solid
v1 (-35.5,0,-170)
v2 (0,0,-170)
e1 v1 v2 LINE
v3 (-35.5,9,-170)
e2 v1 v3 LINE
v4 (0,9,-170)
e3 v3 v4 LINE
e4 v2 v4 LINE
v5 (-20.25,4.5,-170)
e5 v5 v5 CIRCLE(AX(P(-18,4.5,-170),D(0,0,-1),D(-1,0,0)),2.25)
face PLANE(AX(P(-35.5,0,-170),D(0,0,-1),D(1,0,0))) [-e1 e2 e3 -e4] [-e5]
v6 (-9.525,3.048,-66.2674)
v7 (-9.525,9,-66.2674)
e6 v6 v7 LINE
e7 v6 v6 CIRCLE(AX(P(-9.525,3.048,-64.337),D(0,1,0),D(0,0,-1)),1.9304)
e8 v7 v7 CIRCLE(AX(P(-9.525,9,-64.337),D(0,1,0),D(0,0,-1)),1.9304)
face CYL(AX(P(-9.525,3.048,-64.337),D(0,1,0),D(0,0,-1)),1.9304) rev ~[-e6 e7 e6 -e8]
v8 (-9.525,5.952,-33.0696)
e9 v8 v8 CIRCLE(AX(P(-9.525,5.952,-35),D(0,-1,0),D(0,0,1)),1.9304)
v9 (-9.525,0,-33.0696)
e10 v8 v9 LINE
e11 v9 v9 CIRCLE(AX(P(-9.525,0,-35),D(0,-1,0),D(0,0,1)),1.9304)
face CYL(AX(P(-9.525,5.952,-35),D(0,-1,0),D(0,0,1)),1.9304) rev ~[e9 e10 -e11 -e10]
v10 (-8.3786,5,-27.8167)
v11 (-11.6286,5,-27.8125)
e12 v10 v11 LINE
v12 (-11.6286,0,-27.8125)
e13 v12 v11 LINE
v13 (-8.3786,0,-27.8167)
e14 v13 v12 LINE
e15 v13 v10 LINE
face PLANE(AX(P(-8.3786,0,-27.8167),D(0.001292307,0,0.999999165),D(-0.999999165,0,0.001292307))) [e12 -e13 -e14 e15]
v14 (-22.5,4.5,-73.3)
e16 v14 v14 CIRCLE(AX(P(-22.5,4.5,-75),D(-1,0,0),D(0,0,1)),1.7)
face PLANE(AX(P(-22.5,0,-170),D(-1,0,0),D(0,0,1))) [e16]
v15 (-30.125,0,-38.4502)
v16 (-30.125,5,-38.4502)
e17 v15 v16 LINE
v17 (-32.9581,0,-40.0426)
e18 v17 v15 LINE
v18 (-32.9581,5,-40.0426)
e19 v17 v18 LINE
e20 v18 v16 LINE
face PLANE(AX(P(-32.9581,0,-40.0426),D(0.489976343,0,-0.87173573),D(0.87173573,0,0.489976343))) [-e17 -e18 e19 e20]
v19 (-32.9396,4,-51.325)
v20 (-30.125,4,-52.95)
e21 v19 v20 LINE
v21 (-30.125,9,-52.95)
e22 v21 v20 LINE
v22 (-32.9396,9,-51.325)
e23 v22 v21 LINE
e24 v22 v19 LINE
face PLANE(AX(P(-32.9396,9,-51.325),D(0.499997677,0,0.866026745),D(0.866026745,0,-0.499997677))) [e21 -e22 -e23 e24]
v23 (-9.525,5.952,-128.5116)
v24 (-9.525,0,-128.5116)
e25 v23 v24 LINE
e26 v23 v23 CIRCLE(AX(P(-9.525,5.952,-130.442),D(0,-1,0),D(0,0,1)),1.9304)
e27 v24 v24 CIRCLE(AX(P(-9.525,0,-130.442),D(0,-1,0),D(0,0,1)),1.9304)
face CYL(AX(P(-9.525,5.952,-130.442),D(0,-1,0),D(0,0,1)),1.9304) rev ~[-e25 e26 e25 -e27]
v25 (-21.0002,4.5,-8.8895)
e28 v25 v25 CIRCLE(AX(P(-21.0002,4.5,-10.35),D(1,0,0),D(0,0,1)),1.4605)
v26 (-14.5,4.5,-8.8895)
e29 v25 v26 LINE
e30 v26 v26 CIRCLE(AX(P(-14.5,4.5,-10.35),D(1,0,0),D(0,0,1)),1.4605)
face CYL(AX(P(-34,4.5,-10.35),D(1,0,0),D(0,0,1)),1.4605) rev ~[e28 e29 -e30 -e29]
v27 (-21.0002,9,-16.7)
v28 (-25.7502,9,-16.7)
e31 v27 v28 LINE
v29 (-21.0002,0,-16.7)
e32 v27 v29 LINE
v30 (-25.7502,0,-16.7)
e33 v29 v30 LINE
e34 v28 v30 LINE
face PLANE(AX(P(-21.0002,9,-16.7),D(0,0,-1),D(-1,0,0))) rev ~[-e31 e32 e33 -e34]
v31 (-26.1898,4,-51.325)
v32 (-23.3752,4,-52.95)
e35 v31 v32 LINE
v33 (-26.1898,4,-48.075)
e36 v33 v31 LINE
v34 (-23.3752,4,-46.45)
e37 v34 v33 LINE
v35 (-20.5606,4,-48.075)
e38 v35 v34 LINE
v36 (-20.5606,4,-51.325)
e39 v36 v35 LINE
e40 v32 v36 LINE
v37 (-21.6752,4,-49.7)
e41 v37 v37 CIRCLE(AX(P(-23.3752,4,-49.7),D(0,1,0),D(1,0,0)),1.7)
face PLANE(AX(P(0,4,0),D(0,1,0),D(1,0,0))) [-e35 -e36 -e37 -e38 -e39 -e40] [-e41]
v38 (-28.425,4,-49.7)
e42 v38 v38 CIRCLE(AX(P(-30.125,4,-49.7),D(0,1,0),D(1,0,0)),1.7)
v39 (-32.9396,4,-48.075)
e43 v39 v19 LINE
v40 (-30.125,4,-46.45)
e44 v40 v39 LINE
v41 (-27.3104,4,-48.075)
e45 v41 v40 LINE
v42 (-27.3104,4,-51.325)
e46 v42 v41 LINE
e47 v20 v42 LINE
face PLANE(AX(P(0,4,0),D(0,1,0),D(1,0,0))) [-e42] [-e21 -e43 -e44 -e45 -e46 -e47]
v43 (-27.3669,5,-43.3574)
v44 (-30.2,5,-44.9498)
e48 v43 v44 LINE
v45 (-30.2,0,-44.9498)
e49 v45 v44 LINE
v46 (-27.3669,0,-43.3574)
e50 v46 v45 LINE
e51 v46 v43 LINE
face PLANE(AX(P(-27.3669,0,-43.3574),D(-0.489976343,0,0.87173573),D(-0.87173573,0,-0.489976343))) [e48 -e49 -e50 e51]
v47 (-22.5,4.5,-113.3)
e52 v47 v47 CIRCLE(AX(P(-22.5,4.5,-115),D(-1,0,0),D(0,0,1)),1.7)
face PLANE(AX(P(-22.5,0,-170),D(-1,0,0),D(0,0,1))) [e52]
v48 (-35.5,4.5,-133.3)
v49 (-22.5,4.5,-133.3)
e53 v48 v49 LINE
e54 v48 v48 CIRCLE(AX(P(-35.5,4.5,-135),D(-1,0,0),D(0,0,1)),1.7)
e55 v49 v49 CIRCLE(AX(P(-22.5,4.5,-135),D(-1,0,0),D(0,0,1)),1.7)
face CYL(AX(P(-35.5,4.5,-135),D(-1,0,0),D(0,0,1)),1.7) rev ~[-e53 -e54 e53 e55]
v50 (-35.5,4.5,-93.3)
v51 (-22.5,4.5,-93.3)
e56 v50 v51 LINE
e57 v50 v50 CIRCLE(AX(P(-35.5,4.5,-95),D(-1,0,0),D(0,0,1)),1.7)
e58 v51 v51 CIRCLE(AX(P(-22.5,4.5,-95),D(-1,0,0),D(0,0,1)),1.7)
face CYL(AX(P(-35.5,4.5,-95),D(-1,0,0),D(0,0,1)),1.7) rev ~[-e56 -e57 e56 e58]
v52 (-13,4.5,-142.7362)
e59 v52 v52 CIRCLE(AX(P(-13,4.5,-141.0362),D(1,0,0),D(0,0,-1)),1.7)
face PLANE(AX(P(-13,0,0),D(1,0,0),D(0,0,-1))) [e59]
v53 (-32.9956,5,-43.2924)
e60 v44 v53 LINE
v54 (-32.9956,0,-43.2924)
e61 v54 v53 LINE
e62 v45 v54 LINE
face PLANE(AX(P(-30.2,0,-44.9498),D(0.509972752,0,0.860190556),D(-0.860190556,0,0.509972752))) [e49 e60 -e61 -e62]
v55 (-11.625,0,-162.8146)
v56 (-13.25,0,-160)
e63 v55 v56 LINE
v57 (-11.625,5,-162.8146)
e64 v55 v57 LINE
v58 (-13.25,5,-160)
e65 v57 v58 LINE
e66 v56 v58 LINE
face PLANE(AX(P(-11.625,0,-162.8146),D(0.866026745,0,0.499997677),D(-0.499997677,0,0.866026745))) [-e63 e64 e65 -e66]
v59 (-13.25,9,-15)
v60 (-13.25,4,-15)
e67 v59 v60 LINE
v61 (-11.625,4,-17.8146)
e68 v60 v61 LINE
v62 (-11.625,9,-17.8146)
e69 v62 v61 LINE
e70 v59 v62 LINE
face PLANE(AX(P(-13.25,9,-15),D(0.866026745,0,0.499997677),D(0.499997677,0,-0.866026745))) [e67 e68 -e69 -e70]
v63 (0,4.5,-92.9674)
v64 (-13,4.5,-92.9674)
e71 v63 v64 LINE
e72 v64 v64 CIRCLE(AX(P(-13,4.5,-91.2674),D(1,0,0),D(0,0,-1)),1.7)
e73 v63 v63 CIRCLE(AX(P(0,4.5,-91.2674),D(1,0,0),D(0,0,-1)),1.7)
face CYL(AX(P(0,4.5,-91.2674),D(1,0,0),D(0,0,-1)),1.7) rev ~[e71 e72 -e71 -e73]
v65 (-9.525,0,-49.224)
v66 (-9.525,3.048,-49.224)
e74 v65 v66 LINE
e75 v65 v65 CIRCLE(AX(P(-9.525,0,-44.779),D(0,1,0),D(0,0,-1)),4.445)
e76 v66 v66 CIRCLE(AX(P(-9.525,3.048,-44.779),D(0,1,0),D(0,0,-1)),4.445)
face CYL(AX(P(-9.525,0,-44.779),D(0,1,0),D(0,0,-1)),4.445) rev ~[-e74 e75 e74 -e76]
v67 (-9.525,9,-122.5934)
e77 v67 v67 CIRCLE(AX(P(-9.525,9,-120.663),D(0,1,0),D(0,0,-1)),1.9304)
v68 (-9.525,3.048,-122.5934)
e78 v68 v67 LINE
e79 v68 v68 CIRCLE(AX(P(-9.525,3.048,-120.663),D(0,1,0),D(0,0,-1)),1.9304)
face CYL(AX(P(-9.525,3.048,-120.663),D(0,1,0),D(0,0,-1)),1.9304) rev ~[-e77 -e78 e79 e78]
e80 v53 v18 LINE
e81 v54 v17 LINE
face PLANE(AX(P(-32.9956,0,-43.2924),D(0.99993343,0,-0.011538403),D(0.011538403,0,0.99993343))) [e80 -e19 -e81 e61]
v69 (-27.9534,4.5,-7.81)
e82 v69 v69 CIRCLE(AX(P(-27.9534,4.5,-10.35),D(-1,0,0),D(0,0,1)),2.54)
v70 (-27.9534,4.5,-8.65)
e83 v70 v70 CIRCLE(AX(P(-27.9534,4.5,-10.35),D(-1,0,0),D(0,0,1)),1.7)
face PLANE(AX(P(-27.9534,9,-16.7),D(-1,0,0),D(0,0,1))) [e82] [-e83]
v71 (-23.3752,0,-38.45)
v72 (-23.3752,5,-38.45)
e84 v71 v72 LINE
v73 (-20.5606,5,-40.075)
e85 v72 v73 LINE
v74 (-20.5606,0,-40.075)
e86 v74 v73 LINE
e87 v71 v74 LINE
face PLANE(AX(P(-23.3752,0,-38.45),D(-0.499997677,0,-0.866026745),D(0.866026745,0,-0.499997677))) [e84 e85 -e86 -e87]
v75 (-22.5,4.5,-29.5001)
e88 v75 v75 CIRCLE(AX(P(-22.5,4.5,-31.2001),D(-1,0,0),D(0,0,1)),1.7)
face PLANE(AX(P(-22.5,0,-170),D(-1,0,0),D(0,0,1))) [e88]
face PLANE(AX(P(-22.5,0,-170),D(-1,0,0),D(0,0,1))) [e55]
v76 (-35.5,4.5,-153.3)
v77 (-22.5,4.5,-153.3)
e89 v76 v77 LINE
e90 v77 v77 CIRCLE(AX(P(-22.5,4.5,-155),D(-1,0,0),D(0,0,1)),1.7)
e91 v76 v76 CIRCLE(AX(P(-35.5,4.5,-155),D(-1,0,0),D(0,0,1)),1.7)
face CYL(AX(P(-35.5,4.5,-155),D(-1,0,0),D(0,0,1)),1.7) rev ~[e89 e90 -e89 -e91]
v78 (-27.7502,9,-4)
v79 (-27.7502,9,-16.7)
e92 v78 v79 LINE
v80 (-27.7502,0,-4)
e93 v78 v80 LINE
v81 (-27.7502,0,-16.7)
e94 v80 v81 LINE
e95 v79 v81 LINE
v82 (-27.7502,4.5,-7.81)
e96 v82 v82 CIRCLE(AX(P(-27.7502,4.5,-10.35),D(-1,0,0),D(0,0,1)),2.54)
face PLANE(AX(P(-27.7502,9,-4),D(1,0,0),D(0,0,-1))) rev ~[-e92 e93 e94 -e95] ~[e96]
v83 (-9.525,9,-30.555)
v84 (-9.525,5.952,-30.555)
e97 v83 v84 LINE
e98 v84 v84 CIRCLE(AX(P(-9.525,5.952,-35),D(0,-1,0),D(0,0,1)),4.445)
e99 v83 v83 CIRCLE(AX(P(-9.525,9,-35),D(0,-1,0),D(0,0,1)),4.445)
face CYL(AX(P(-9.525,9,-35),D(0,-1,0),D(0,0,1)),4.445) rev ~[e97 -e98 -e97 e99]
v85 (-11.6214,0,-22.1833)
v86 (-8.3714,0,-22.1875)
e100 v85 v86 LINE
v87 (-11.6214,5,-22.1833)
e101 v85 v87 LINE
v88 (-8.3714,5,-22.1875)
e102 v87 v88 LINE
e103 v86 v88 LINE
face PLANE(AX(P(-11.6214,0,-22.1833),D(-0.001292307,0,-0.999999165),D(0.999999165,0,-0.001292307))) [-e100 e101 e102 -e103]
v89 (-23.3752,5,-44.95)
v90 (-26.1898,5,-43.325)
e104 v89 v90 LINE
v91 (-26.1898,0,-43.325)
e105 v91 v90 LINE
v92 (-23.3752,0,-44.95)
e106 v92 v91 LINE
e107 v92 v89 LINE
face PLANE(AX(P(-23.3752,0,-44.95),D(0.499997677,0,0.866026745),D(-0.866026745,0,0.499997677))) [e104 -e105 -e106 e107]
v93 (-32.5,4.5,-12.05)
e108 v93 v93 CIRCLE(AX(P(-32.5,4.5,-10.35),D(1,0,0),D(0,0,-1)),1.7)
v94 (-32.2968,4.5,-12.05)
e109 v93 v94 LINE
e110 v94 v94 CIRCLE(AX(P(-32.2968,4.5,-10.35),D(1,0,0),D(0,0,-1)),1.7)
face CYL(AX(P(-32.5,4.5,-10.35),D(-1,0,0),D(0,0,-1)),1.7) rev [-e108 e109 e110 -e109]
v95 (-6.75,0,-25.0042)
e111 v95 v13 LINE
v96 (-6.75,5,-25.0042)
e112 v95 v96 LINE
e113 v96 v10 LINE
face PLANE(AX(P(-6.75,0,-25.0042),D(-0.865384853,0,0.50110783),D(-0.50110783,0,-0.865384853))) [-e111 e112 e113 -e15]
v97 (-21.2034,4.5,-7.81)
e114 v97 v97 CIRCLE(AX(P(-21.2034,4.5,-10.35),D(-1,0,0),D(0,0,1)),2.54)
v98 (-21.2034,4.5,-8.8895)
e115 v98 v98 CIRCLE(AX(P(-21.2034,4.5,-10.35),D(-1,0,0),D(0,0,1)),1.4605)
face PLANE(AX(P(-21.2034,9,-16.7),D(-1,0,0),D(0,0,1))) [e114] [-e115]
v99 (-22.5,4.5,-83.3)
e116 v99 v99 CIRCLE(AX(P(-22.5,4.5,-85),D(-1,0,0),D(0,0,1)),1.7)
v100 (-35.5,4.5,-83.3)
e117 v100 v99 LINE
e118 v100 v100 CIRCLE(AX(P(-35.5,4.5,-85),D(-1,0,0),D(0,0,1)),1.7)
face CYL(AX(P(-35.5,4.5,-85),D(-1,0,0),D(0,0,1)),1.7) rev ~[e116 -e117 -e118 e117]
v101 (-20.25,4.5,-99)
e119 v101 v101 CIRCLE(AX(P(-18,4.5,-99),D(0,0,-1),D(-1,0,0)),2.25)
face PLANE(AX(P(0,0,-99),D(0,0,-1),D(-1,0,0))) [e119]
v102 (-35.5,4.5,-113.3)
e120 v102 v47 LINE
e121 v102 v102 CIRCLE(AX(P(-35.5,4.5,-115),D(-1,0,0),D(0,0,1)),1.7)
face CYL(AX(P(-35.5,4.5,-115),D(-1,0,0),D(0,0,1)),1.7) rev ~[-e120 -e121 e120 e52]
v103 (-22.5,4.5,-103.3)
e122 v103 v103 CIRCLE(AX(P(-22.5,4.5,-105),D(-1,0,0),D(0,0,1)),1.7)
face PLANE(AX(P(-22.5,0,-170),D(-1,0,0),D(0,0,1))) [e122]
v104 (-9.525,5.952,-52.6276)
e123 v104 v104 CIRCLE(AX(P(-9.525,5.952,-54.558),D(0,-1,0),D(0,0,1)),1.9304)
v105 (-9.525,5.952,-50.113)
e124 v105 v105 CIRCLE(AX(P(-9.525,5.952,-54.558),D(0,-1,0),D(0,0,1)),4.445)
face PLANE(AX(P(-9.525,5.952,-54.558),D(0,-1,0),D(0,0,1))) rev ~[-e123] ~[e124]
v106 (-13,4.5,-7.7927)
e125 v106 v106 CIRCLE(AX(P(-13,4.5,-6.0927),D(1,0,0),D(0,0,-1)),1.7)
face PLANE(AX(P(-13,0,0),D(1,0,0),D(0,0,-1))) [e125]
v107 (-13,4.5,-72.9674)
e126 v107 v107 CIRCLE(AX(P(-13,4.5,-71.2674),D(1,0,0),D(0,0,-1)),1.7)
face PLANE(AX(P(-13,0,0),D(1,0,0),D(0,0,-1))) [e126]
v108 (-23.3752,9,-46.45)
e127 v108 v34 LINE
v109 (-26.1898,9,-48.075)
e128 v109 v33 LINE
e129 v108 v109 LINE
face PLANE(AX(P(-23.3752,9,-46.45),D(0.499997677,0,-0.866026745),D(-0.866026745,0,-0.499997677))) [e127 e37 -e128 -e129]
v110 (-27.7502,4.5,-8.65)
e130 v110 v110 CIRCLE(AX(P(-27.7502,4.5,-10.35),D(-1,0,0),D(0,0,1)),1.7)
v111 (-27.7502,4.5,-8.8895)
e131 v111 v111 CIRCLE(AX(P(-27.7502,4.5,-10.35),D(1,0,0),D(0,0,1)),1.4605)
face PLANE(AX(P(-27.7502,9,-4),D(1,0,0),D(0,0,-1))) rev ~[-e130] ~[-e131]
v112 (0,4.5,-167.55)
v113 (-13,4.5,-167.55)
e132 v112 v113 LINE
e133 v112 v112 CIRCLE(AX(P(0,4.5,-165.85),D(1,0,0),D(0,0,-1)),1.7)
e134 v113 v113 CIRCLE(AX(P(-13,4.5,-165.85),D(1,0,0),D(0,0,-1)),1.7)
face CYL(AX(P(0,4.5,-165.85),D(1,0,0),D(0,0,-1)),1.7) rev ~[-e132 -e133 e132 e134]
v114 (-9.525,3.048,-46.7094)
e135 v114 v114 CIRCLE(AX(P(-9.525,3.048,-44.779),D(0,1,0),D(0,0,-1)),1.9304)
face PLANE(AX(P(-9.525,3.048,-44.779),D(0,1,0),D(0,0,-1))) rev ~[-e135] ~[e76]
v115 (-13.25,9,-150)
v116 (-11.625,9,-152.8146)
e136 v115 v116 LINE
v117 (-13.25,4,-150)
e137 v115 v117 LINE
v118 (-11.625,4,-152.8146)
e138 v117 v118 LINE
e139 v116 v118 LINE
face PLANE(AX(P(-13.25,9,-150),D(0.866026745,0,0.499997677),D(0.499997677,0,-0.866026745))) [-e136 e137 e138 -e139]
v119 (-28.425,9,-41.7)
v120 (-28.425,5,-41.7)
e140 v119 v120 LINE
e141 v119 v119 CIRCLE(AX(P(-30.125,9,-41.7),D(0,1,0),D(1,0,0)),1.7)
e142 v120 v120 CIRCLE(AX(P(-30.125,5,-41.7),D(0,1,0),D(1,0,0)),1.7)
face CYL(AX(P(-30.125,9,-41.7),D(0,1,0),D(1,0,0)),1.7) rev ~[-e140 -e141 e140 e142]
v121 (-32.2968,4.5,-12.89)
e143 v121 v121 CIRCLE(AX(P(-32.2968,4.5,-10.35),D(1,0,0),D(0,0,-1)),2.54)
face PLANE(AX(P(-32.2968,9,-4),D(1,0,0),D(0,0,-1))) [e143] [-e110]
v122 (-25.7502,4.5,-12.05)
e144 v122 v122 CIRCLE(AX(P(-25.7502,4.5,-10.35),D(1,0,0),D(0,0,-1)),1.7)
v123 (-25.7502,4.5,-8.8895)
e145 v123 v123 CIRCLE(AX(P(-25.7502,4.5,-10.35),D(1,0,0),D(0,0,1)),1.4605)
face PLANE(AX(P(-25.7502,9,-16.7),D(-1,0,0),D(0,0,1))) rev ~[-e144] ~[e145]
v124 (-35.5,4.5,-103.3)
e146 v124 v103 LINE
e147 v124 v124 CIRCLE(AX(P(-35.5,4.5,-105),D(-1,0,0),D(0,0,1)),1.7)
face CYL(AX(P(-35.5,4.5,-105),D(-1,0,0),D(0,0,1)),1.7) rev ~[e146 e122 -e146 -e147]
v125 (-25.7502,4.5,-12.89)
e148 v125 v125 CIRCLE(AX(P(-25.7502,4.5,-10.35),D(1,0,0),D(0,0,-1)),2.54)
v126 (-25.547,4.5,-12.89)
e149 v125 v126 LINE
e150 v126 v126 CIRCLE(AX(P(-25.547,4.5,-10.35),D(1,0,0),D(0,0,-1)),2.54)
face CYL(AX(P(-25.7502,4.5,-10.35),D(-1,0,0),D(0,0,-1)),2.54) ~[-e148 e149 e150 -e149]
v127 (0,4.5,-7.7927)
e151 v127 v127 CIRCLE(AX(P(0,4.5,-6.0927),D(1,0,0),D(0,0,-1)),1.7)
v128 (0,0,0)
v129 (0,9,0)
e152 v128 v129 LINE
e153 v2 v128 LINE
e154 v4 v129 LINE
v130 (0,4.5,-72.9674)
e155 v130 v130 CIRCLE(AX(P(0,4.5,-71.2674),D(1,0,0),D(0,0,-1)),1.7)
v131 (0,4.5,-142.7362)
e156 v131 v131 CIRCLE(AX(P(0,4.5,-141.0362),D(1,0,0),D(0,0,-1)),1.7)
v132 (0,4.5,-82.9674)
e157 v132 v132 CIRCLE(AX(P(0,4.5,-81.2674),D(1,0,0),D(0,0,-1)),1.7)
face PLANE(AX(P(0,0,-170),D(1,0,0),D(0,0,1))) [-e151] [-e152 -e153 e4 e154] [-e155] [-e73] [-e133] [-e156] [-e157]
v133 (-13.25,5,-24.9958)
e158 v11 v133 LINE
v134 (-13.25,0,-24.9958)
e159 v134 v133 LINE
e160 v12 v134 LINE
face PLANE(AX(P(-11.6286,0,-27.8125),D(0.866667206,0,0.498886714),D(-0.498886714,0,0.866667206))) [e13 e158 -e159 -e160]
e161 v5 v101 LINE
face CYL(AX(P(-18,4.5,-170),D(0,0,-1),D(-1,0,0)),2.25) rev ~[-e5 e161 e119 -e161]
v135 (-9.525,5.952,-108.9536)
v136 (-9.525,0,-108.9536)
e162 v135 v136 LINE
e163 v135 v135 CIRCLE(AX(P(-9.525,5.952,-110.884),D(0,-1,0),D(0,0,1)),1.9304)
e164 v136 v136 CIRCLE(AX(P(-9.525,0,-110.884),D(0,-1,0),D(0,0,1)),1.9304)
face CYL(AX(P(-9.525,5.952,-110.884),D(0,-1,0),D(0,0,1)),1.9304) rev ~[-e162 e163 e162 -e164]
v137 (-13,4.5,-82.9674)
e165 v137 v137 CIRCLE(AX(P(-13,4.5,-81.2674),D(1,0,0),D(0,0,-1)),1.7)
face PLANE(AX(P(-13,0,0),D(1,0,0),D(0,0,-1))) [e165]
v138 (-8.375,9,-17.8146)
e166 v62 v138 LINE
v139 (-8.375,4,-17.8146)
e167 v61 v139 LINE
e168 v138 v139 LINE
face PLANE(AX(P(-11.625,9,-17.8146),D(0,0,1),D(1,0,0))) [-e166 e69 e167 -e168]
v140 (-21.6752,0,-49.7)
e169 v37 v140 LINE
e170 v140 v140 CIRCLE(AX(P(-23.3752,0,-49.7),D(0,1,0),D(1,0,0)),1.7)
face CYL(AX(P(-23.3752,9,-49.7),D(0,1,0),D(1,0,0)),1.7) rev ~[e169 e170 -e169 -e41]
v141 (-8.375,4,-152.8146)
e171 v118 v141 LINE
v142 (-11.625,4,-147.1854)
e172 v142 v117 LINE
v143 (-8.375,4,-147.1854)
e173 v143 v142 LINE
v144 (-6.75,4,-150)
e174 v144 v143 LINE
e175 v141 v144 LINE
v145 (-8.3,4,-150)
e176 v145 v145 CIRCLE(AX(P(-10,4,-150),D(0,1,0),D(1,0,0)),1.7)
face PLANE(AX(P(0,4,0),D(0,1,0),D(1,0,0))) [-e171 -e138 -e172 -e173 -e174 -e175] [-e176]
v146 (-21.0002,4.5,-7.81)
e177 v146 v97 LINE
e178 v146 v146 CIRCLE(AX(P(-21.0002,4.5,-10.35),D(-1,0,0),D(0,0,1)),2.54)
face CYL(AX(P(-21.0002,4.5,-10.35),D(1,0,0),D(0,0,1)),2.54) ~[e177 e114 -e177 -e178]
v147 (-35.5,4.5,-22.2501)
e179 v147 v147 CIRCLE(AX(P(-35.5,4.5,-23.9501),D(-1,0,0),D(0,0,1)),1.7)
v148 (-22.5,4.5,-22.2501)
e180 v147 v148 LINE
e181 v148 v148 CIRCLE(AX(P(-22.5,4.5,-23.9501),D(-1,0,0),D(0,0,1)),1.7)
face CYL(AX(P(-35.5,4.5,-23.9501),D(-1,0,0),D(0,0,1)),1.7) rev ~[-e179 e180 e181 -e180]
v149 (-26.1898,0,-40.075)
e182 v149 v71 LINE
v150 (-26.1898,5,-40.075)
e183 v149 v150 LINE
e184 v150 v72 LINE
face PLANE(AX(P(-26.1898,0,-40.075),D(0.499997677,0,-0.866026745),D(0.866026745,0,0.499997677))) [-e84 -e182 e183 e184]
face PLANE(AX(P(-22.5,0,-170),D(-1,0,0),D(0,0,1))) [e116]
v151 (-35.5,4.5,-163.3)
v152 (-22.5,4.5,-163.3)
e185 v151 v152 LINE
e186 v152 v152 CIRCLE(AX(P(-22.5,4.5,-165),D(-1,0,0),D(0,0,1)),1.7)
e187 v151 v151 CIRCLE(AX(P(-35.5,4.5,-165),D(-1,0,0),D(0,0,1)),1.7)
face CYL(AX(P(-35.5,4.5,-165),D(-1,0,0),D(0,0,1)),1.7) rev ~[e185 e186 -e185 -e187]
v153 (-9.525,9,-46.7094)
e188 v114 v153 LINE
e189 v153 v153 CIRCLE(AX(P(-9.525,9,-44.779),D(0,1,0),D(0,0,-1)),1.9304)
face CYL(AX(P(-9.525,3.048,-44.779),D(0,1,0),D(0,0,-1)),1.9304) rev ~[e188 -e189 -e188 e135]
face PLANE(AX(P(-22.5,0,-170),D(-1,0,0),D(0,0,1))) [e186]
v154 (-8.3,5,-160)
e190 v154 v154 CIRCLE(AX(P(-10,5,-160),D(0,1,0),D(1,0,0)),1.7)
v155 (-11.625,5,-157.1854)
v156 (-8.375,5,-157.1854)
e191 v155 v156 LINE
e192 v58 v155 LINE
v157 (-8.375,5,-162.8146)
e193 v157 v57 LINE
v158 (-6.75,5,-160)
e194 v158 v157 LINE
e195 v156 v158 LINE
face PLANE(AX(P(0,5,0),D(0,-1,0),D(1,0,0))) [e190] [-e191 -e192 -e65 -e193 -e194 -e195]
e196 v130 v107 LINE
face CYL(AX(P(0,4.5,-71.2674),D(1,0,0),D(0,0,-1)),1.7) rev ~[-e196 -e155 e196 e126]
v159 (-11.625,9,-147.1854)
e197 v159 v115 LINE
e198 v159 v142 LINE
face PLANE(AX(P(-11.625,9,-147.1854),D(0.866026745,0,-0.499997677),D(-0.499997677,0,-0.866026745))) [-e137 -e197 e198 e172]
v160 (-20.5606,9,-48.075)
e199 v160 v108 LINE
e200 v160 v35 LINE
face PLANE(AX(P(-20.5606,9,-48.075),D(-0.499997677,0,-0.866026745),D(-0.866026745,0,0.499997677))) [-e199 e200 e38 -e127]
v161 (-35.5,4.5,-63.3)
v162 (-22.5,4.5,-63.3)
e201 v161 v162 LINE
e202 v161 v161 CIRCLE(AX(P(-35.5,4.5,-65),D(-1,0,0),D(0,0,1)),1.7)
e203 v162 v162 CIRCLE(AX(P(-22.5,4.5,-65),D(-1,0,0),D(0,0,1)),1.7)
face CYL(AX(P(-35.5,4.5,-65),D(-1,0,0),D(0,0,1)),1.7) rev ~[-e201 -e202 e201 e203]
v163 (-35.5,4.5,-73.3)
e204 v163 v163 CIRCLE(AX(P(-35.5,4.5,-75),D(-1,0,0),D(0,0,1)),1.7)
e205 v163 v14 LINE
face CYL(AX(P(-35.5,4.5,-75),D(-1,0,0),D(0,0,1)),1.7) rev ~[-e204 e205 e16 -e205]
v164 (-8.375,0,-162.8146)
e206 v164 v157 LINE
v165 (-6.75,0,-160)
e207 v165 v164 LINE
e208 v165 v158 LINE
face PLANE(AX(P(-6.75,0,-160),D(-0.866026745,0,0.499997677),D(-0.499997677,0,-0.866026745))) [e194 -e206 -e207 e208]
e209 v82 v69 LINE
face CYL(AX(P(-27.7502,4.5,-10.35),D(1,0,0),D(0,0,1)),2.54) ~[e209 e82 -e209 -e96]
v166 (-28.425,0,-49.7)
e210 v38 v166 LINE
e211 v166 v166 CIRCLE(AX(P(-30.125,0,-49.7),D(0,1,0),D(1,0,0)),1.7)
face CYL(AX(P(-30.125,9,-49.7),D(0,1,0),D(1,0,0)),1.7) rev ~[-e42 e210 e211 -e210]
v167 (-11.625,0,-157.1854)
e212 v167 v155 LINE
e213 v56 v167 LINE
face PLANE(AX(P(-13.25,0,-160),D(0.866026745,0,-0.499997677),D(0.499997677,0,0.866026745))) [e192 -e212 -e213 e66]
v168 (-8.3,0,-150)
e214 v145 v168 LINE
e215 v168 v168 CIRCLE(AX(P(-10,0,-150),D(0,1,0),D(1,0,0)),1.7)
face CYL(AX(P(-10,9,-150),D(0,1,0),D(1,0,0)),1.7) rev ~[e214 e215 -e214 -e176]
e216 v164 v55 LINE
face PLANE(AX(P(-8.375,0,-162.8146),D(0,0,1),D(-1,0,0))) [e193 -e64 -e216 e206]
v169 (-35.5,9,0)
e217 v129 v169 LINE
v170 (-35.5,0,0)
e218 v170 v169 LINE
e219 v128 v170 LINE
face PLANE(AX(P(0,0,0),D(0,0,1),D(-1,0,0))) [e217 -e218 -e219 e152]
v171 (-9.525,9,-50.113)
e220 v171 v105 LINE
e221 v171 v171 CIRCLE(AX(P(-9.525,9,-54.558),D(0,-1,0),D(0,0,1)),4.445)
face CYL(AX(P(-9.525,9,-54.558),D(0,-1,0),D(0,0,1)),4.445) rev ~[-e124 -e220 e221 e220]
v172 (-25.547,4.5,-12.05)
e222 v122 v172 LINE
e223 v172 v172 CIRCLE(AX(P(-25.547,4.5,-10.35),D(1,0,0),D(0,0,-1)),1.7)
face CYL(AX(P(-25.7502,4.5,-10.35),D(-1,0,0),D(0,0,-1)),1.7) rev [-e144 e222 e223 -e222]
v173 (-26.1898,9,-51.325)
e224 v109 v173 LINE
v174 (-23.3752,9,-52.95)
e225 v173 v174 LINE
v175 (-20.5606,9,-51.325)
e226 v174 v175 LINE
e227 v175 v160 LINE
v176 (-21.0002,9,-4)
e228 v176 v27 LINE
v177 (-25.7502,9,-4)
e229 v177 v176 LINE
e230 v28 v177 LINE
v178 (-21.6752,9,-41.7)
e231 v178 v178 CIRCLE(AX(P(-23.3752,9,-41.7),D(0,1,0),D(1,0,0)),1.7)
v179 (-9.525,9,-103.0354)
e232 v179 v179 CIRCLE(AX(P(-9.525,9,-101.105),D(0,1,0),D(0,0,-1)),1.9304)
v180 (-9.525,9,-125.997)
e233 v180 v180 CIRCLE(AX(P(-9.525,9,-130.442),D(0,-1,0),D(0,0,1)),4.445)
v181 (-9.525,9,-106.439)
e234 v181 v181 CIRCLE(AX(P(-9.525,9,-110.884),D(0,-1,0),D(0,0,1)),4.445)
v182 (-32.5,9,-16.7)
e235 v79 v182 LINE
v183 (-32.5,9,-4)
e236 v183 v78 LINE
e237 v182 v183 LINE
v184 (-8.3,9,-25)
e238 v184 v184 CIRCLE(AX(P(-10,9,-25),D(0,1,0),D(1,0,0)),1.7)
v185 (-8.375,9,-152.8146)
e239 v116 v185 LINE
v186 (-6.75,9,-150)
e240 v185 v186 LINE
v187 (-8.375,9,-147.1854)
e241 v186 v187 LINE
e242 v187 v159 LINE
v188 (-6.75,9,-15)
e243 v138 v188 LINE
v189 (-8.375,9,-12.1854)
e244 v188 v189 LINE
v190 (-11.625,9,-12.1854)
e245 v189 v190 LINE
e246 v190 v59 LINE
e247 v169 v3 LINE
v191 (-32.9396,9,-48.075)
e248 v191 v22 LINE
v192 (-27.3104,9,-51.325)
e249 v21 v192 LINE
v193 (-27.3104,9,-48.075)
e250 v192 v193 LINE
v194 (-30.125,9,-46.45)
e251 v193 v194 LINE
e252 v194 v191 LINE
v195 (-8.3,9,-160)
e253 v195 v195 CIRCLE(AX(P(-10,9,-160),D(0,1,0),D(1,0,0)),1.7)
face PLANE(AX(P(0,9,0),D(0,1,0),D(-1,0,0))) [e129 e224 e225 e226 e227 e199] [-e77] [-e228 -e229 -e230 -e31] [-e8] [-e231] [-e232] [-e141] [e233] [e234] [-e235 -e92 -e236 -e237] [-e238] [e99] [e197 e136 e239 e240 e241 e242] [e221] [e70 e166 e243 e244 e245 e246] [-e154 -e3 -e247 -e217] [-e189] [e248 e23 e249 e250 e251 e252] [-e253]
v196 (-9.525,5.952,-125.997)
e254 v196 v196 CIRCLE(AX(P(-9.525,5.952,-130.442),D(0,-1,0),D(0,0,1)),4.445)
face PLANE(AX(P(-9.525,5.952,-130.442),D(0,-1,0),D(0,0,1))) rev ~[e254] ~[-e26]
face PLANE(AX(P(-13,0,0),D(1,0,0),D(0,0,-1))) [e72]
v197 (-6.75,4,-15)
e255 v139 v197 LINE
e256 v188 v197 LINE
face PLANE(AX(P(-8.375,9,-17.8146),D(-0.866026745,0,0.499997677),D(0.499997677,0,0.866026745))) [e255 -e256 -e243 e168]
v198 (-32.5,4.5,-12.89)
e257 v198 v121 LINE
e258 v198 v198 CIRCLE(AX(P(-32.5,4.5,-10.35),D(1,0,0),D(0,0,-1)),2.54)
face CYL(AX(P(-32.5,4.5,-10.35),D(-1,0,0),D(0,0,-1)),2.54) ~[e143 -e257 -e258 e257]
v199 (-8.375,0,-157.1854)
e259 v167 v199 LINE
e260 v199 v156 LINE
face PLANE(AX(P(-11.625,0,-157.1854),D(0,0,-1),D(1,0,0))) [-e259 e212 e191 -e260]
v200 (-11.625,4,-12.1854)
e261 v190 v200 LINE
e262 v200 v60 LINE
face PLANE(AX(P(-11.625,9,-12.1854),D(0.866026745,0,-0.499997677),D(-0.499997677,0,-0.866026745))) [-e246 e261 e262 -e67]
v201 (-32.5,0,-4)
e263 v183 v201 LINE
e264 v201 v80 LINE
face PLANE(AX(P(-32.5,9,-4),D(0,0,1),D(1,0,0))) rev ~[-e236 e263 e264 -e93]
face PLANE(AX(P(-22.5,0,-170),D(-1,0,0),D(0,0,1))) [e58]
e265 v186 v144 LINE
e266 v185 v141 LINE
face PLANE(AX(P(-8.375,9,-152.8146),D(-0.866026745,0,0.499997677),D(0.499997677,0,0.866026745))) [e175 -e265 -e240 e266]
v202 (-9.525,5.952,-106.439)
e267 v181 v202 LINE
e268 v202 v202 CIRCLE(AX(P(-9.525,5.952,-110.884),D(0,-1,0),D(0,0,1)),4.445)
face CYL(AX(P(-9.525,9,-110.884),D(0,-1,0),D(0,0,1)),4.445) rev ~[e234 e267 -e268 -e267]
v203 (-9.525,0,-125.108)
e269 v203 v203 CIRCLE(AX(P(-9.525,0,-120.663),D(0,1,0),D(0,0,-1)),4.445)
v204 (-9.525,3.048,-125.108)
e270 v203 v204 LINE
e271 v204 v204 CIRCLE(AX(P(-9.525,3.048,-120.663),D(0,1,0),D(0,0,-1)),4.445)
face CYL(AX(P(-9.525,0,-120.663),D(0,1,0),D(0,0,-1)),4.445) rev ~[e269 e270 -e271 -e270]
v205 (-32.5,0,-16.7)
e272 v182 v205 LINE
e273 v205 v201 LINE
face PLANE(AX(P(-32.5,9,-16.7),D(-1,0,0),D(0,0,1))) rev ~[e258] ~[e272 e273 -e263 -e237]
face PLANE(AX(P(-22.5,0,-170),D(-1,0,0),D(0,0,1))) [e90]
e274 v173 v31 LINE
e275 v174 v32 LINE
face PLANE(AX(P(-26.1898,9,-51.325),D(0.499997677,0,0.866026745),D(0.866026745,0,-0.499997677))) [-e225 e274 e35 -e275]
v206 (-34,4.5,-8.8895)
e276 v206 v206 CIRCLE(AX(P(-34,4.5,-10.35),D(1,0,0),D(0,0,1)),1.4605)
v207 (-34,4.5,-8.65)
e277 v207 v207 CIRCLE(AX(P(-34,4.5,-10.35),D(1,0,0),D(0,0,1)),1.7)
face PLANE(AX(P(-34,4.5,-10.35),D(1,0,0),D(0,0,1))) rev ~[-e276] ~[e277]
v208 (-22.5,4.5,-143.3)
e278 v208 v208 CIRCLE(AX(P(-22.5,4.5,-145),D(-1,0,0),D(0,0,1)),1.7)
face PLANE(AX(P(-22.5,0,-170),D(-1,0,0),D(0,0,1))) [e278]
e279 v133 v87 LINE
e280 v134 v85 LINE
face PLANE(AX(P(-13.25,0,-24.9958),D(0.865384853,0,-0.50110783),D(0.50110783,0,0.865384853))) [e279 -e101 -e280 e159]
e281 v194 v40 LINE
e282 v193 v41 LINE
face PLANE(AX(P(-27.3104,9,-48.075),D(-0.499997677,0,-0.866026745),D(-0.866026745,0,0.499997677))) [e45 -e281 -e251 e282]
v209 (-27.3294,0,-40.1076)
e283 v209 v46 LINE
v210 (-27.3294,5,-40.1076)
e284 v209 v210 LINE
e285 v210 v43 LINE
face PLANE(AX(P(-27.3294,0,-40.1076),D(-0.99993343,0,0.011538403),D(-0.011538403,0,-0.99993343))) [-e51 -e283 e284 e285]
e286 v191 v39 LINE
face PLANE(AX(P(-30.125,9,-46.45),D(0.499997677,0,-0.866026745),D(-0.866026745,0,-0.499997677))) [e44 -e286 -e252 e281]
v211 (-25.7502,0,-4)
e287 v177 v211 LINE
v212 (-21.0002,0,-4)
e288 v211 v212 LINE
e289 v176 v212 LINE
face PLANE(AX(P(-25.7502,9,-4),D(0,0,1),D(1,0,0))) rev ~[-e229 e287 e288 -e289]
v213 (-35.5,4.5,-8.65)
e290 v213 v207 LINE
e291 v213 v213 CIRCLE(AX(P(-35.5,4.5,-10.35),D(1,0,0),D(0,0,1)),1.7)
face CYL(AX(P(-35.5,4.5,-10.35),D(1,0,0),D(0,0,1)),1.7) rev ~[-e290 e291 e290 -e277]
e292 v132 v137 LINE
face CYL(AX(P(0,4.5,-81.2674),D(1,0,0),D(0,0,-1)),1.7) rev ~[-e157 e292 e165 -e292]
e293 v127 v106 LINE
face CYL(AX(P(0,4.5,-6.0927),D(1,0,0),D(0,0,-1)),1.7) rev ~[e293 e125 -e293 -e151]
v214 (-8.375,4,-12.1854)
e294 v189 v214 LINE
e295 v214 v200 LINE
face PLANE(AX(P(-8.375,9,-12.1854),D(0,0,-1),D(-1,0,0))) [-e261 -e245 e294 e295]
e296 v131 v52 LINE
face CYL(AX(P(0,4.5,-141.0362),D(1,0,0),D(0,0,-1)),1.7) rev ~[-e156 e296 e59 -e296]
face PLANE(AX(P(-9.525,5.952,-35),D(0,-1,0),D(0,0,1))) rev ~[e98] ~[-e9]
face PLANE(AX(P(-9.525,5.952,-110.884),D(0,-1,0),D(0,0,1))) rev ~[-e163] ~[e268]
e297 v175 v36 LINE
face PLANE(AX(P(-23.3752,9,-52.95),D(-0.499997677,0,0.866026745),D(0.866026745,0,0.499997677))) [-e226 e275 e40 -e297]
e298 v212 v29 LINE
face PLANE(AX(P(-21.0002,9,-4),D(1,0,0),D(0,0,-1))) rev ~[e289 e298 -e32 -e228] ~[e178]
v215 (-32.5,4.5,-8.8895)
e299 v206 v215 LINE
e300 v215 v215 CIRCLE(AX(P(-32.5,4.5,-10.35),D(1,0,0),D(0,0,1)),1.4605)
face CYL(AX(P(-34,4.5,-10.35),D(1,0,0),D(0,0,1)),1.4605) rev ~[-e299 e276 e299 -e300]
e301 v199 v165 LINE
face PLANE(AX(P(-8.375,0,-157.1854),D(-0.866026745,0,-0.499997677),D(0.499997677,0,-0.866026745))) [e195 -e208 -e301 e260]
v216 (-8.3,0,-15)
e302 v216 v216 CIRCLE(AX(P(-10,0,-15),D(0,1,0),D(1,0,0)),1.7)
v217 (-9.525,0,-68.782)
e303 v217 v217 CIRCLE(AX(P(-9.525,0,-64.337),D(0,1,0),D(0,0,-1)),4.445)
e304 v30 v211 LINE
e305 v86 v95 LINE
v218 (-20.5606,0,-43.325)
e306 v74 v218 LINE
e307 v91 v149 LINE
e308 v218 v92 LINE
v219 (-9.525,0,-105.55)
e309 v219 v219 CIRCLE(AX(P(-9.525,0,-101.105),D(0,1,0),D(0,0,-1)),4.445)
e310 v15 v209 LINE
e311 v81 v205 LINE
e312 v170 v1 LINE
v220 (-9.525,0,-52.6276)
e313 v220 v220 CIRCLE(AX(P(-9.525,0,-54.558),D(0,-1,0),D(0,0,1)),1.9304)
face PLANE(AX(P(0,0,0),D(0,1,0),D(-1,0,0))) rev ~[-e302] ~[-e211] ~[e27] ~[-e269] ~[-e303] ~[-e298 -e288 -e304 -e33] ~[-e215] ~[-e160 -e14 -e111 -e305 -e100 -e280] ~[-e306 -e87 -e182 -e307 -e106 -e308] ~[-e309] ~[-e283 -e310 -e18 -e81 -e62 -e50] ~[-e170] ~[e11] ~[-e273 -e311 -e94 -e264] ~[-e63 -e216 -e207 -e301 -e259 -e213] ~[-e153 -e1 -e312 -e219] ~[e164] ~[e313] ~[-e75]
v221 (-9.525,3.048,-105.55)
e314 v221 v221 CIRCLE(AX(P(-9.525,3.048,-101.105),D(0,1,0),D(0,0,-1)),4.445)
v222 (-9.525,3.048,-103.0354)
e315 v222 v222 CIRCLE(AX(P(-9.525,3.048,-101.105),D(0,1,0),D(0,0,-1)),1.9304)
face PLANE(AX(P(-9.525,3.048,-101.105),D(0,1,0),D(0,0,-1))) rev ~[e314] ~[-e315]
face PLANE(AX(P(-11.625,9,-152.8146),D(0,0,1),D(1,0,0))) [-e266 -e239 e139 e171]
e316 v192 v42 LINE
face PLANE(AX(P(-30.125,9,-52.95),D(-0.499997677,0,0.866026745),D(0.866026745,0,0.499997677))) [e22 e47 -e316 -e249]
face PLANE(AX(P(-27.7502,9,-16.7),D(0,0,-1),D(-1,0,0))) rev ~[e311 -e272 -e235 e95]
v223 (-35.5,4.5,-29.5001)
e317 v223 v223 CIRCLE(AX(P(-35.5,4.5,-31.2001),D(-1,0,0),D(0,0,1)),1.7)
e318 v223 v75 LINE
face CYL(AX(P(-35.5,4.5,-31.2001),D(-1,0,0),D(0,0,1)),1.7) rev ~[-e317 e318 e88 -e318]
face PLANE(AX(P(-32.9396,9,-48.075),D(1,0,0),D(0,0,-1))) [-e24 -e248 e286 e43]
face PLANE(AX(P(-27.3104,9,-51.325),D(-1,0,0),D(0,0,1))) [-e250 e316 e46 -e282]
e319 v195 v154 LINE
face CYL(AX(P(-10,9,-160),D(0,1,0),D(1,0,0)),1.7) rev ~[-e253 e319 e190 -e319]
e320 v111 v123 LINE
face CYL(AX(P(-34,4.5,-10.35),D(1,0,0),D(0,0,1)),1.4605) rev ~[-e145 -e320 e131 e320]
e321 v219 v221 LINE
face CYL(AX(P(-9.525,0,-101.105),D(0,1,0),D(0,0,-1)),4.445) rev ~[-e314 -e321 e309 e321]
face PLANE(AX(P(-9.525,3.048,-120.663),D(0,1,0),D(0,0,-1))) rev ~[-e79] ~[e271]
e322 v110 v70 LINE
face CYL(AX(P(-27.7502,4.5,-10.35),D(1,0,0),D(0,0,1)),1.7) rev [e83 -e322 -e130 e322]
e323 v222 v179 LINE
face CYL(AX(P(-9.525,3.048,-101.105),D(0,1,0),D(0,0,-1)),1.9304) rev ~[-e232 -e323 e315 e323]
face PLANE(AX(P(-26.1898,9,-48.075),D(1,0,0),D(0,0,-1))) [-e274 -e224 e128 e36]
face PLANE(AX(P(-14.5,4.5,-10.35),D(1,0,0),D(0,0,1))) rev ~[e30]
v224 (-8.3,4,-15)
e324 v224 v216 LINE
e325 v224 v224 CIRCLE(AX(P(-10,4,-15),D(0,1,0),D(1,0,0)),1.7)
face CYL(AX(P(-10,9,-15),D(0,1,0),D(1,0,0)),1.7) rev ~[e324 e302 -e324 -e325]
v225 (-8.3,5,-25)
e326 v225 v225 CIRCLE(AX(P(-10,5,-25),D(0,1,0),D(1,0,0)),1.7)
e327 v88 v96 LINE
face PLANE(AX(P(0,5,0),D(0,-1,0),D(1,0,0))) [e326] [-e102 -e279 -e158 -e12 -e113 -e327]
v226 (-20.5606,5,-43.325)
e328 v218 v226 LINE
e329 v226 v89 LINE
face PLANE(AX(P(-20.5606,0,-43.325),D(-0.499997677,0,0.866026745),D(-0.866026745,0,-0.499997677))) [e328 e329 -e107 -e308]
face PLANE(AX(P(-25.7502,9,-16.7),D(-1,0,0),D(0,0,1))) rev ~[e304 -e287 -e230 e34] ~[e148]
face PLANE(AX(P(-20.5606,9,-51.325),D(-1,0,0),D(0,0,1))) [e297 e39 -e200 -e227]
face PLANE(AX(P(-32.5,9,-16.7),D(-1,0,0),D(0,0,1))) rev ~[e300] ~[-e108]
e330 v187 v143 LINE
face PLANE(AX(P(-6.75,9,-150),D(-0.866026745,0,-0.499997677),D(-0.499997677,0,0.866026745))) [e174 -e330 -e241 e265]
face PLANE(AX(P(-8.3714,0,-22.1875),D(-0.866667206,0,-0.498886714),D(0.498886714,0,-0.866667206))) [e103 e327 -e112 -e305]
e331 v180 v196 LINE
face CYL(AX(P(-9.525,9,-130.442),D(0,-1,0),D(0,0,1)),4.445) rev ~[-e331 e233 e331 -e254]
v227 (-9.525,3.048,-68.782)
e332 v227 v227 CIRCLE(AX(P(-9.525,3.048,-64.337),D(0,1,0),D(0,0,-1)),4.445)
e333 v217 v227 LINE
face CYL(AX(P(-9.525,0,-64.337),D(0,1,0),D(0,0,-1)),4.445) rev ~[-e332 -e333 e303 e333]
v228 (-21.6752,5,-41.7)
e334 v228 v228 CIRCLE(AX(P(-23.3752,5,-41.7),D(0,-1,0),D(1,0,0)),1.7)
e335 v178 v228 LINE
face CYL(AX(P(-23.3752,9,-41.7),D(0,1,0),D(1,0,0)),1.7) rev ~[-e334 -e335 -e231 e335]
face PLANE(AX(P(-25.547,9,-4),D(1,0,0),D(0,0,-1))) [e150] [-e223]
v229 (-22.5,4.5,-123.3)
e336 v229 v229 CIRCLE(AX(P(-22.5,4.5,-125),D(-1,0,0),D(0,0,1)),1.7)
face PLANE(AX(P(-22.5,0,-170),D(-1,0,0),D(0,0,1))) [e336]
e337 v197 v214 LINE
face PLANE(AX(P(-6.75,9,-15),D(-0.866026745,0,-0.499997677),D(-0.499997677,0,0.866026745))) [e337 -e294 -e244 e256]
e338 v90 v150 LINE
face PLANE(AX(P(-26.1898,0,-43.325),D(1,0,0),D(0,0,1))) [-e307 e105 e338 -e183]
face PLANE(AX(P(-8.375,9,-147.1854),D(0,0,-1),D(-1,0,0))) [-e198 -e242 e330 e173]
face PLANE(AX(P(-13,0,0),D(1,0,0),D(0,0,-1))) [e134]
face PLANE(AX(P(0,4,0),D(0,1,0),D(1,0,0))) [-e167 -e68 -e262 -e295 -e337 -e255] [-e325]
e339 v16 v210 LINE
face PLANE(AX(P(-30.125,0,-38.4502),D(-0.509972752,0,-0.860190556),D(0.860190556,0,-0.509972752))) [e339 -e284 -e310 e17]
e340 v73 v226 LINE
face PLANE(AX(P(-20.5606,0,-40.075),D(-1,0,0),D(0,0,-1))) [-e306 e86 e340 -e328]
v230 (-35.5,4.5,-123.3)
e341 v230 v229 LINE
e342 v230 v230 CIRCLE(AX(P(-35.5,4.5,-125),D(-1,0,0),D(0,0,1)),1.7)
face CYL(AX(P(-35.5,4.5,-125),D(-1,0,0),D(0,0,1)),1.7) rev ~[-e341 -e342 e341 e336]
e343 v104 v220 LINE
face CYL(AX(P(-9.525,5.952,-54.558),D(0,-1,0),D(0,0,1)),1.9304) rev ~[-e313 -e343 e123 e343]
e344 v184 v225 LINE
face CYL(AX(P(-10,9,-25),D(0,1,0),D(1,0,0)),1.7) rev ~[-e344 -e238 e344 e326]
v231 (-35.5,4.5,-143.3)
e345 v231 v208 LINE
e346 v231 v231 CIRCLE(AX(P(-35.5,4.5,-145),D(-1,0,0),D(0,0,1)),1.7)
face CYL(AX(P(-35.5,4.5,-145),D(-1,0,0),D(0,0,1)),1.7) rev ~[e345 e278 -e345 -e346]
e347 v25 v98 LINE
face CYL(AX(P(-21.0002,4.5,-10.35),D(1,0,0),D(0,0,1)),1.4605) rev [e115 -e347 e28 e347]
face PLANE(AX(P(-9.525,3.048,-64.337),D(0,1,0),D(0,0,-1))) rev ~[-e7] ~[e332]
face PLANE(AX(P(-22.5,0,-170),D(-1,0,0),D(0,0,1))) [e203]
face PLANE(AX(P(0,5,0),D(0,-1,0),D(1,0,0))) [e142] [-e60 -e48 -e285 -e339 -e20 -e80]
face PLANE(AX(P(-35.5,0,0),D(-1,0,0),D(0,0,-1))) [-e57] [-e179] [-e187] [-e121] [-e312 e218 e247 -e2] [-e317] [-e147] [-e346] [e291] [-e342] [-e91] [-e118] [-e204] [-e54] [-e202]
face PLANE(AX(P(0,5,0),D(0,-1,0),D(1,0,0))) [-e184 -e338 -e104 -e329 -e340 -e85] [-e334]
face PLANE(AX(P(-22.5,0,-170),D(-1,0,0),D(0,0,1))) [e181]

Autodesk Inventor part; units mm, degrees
ref_plane "YZ Plane" through (0, 0, 0) normal (1, 0, 0) x (0, 1, 0)
sketch "Sketch1" plane through (0, 0, 0) normal (0, 1, 0) x (-1, 0, 0)
  line L0 (0, 0) -> (35.5, 0)
  line L1 (35.5, 0) -> (35.5, -170)
  line L2 (35.5, -170) -> (0, -170)
  line L3 (0, -170) -> (0, 0)
  dimension "d0" = 35.5
  dimension "d1" = 170
extrude "BlockShape" add sketch "Sketch1" along normal blind 9
sketch "Sketch2" plane through (0, 9, 0) normal (0, 1, 0) x (1, 0, 0)
  circle A0 centre (-10, 15) radius 3.25 construction
  line L0 (-35.5, 0) -> (0, 0) projected
  line L1 (0, 0) -> (0, 170) projected
  line L2 (-13.25, 15) -> (-11.625, 17.8146)
  line L3 (-11.625, 17.8146) -> (-8.375, 17.8146)
  line L4 (-8.375, 17.8146) -> (-6.75, 15)
  line L5 (-6.75, 15) -> (-8.375, 12.1854)
  line L6 (-8.375, 12.1854) -> (-11.625, 12.1854)
  line L7 (-11.625, 12.1854) -> (-13.25, 15)
  circle A1 centre (-10, 150) radius 3.25 construction
  line L8 (-13.25, 150) -> (-11.625, 152.8146)
  line L9 (-11.625, 152.8146) -> (-8.375, 152.8146)
  line L10 (-8.375, 152.8146) -> (-6.75, 150)
  line L11 (-6.75, 150) -> (-8.375, 147.1854)
  line L12 (-8.375, 147.1854) -> (-11.625, 147.1854)
  line L13 (-11.625, 147.1854) -> (-13.25, 150)
  line L14 (0, 170) -> (-35.5, 170) projected
  circle A2 centre (-10, 15) radius 1.7 construction
  circle A3 centre (-10, 150) radius 1.7 construction
  dimension "d7" = 6.5
  dimension "d10" = 6.5
  dimension "d23" = 135
  dimension "d24" = 15
  dimension "d25" = 10
  dimension "d28" = 3.4
  dimension "d29" = 3.4
extrude "SlideNutWell2" cut sketch "Sketch2" against normal blind 5
sketch "Sketch3" plane through (0, 0, 0) normal (0, -1, 0) x (1, 0, 0)
  circle A0 centre (-10, -25) radius 3.25 construction
  line L0 (0, 0) -> (-35.5, 0) projected
  line L1 (-35.5, 0) -> (-35.5, -170) projected
  line L2 (-11.6286, -27.8125) -> (-13.25, -24.9958)
  line L3 (-13.25, -24.9958) -> (-11.6214, -22.1833)
  line L4 (-11.6214, -22.1833) -> (-8.3714, -22.1875)
  line L5 (-8.3714, -22.1875) -> (-6.75, -25.0042)
  line L6 (-6.75, -25.0042) -> (-8.3786, -27.8167)
  line L7 (-8.3786, -27.8167) -> (-11.6286, -27.8125)
  circle A1 centre (-10, -160) radius 3.25 construction
  line L8 (-6.75, -160) -> (-8.375, -162.8146)
  line L9 (-8.375, -162.8146) -> (-11.625, -162.8146)
  line L10 (-11.625, -162.8146) -> (-13.25, -160)
  line L11 (-13.25, -160) -> (-11.625, -157.1854)
  line L12 (-11.625, -157.1854) -> (-8.375, -157.1854)
  line L13 (-8.375, -157.1854) -> (-6.75, -160)
  line L14 (0, -170) -> (0, 0) projected
  dimension "d15" = 6.5
  dimension "d18" = 6.5
  dimension "d16" = 25
  dimension "d19" = 135
  dimension "d26" = 10
  dimension "d27" = 10
extrude "SlideNutWell1" cut sketch "Sketch3" against normal blind 5
sketch "Sketch5" plane through (0, 9, 0) normal (0, 1, 0) x (1, 0, 0)
  circle A0 centre (-10, 15) radius 1.7
  line L0 (0, 0) -> (0, 170) projected
  line L1 (-35.5, 0) -> (0, 0) projected
  circle A1 centre (-10, 150) radius 1.7
  circle A2 centre (-10, 25) radius 1.7
  circle A3 centre (-10, 160) radius 1.7
  dimension "d30" = 3.4
  dimension "d31" = 10
  dimension "d32" = 15
  dimension "d33" = 3.4
  dimension "d34" = 10
  dimension "d35" = 135
  dimension "d36" = 3.4
  dimension "d37" = 25
  dimension "d38" = 3.4
  dimension "d39" = 10
  dimension "d40" = 135
extrude "SlideMoutingHoles" cut sketch "Sketch5" against normal through all
sketch "Sketch6" plane through (0, 9, 0) normal (0, 1, 0) x (1, 0, 0)
  line L0 (-32.5, 4) -> (-27.7502, 4)
  line L1 (-27.7502, 4) -> (-27.7502, 16.7)
  line L2 (-27.7502, 16.7) -> (-32.5, 16.7)
  line L3 (-32.5, 16.7) -> (-32.5, 4)
  line L4 (-35.5, 0) -> (0, 0) projected
  line L5 (-35.5, 170) -> (-35.5, 0) projected
  line L6 (-25.7502, 4) -> (-21.0002, 4)
  line L7 (-21.0002, 4) -> (-21.0002, 16.7)
  line L8 (-21.0002, 16.7) -> (-25.7502, 16.7)
  line L9 (-25.7502, 16.7) -> (-25.7502, 4)
  line L10 (0, 0) -> (0, 170) construction
  line L11 (-35.5, 170) -> (0, 170) projected
  line L12 (0, 0) -> (-20, 0) construction
  line L13 (-20, 0) -> (-20, 170) construction
  line L14 (-20, 170) -> (0, 170) construction
  line L15 (0, 170) -> (0, 0)
  circle A0 centre (-23.3752, 41.7) radius 1.7
  circle A1 centre (-30.125, 41.7) radius 1.7
  circle A2 centre (-30.125, 49.7) radius 1.7
  circle A3 centre (-23.3752, 49.7) radius 1.7
  dimension "d43" = 4.7498
  dimension "d44" = 12.7
  dimension "d45" = 4
  dimension "d46" = 3
  dimension "d47" = 4.75
  dimension "d48" = 2
  dimension "d49" = 20
  dimension "d50" = 3.4
  dimension "d51" = 25
  dimension "d87" = 3.4
  dimension "d88" = 5.375
  dimension "d90" = 3.4
  dimension "d91" = 8
  dimension "d92" = 3.4
extrude "TensionHoles" cut sketch "Sketch6" against normal through all contours L3 L2 L1 L0 | L9 L8 L7 L6 | A0 | A1 | A2 | A3
sketch "Sketch7" plane through (0, 0, 0) normal (0, -1, 0) x (1, 0, 0)
  circle A0 centre (-23.3752, -41.7) radius 1.7 projected
  circle A1 centre (-23.3752, -41.7) radius 3.25 construction
  line L0 (-23.3752, -38.45) -> (-20.5606, -40.075)
  line L1 (-20.5606, -40.075) -> (-20.5606, -43.325)
  line L2 (-20.5606, -43.325) -> (-23.3752, -44.95)
  line L3 (-23.3752, -44.95) -> (-26.1898, -43.325)
  line L4 (-26.1898, -43.325) -> (-26.1898, -40.075)
  line L5 (-26.1898, -40.075) -> (-23.3752, -38.45)
  circle A2 centre (-30.1625, -41.7) radius 3.25 construction
  line L6 (-30.125, -38.4502) -> (-27.3294, -40.1076)
  line L7 (-27.3294, -40.1076) -> (-27.3669, -43.3574)
  line L8 (-27.3669, -43.3574) -> (-30.2, -44.9498)
  line L9 (-30.2, -44.9498) -> (-32.9956, -43.2924)
  line L10 (-32.9956, -43.2924) -> (-32.9581, -40.0426)
  line L11 (-32.9581, -40.0426) -> (-30.125, -38.4502)
  point P0 (0, 0)
  dimension "d89" = 6.5
  dimension "d54" = 6.5
extrude "TensionNutWells2" cut sketch "Sketch7" against normal blind 5
sketch "Sketch8" plane through (-35.5, 0, -170) normal (-1, 0, 0) x (0, 0, 1)
  circle A0 centre (159.65, 4.5) radius 1.4605
  line L0 (0, 9) -> (170, 9) projected
  line L1 (170, 0) -> (170, 9) projected
  dimension "d57" = 2.921
  dimension "d58" = 4.5
  dimension "d59" = 10.35
hole "PulleyMountingHole" at (-35.5, 4.5, -10.35) direction (1, 0, 0) diameter 2.921 depth 21 counterbore diameter 3.4 counterbore depth 1.5
sketch "Sketch9" plane through (-21.0002, 9, -16.7) normal (-1, 0, 0) x (0, 0, 1)
  circle A0 centre (6.35, -4.5) radius 1.4605 projected
  circle A1 centre (6.35, -4.5) radius 2.54
  point P0 (16.7, -9)
  dimension "d67" = 5.08
extrude "PulleyStandoff4" add sketch "Sketch9" along normal blind 0.2032
sketch "Sketch10" plane through (-27.7502, 9, -16.7) normal (-1, 0, 0) x (0, 0, 1)
  circle A0 centre (6.35, -4.5) radius 1.7 projected
  circle A1 centre (6.35, -4.5) radius 2.54
  point P0 (16.7, -9)
  dimension "d70" = 5.08
extrude "PulleyStandoff2" add sketch "Sketch10" along normal blind 0.2032
sketch "Sketch11" plane through (-25.7502, 9, -4) normal (1, 0, 0) x (0, 0, -1)
  circle A0 centre (6.35, -4.5) radius 1.7 projected
  circle A1 centre (6.35, -4.5) radius 2.54
  point P0 (-4, -9)
  dimension "d73" = 5.08
extrude "PulleyStandoff3" add sketch "Sketch11" along normal blind 0.2032
sketch "Sketch12" plane through (-32.5, 9, -4) normal (1, 0, 0) x (0, 0, -1)
  circle A0 centre (6.35, -4.5) radius 1.7 projected
  circle A1 centre (6.35, -4.5) radius 2.54
  point P0 (-4, -9)
  dimension "d76" = 5.08
extrude "PulleyStandoff1" add sketch "Sketch12" along normal blind 0.2032
sketch "Sketch14" plane through (0, 0, -170) normal (0, 0, -1) x (-1, 0, 0)
  circle A0 centre (18, 4.5) radius 2.25
  line L0 (35.5, 0) -> (0, 0) projected
  line L1 (0, 0) -> (0, 9) projected
  dimension "d82" = 4.5
  dimension "d83" = 4.5
  dimension "d84" = 18
extrude "4mmShaftHole" cut sketch "Sketch14" against normal blind 71
sketch "Sketch15" plane through (0, 9, 0) normal (0, 1, 0) x (1, 0, 0)
  circle A0 centre (-30.125, 49.7) radius 1.7 projected
  circle A1 centre (-30.125, 49.7) radius 3.25 construction
  circle A2 centre (-23.3752, 49.7) radius 1.7 projected
  circle A3 centre (-23.3752, 49.7) radius 3.25 construction
  line L0 (-30.125, 46.45) -> (-32.9396, 48.075)
  line L1 (-32.9396, 48.075) -> (-32.9396, 51.325)
  line L2 (-32.9396, 51.325) -> (-30.125, 52.95)
  line L3 (-30.125, 52.95) -> (-27.3104, 51.325)
  line L4 (-27.3104, 51.325) -> (-27.3104, 48.075)
  line L5 (-27.3104, 48.075) -> (-30.125, 46.45)
  line L6 (-23.3752, 46.45) -> (-26.1898, 48.075)
  line L7 (-26.1898, 48.075) -> (-26.1898, 51.325)
  line L8 (-26.1898, 51.325) -> (-23.3752, 52.95)
  line L9 (-23.3752, 52.95) -> (-20.5606, 51.325)
  line L10 (-20.5606, 51.325) -> (-20.5606, 48.075)
  line L11 (-20.5606, 48.075) -> (-23.3752, 46.45)
  point P0 (0, 0)
  dimension "d93" = 6.5
  dimension "d94" = 6.5
extrude "TensionNutWells1" cut sketch "Sketch15" against normal blind 5
ref_plane "PulleyMidPlane1" through (-30.1251, 9, -4) normal (1, 0, 0) x (0, 0, -1)
ref_plane "PulleyMidPlane2" through (-23.3752, 9, -16.7) normal (-1, 0, 0) x (0, 0, 1)
sketch "Sketch16" plane through (0, 9, 0) normal (0, 1, 0) x (1, 0, 0)
  circle A0 centre (-9.525, 35) radius 1.9304 construction
  line L0 (0, 0) -> (0, 170) construction
  circle A1 centre (-10, 25) radius 1.7 construction
  circle A2 centre (-9.525, 54.558) radius 1.9304 construction
  circle A3 centre (-9.525, 130.442) radius 1.9304 construction
  circle A4 centre (-10, 150) radius 1.7 construction
  circle A5 centre (-9.525, 110.884) radius 1.9304 construction
  dimension "d97" = 3.8608
  dimension "d98" = 9.525
  dimension "d99" = 10
  dimension "d100" = 3.8608
  dimension "d101" = 19.558
  dimension "d102" = 3.8608
  dimension "d103" = 9.525
  dimension "d104" = 19.558
  dimension "d105" = 3.8608
  dimension "d106" = 19.558
hole "XRailMoutingHoles1" at (-9.525, 9, -35) at (-9.525, 9, -54.558) at (-9.525, 9, -110.884) at (-9.525, 9, -130.442) direction (0, -1, 0) diameter 3.8608 end through all counterbore diameter 8.89 counterbore depth 3.048
sketch "Sketch17" plane through (0, 0, 0) normal (0, -1, 0) x (1, 0, 0)
  circle A0 centre (-9.525, -120.663) radius 1.9304 construction
  circle A1 centre (-9.525, -130.442) radius 1.9304 projected
  circle A2 centre (-9.525, -101.105) radius 1.9304 construction
  circle A3 centre (-9.525, -44.779) radius 1.9304 construction
  circle A4 centre (-9.525, -64.337) radius 1.9304 construction
  circle A5 centre (-9.525, -35) radius 1.9304 construction
  point P0 (0, 0)
  dimension "d114" = 3.8608
  dimension "d115" = 9.779
  dimension "d116" = 3.8608
  dimension "d117" = 19.558
  dimension "d118" = 3.8608
  dimension "d119" = 3.8608
  dimension "d120" = 9.779
  dimension "d121" = 19.558
hole "XRailMoutingHoles2" at (-9.525, 0, -120.663) at (-9.525, 0, -101.105) at (-9.525, 0, -64.337) at (-9.525, 0, -44.779) direction (0, 1, 0) diameter 3.8608 end through all counterbore diameter 8.89 counterbore depth 3.048
sketch "Sketch18" plane through (-35.5, 0, -170) normal (-1, 0, 0) x (0, 0, 1)
  line L0 (153.3, 9) -> (153.3, 0) construction
  line L1 (131.5498, 0) -> (131.5498, 5) construction
  line L2 (117.05, 9) -> (117.05, 4) construction
  line L3 (142.1875, 0) -> (142.1875, 5) construction
  line L4 (170, 0) -> (0, 0) projected
  line L5 (0, 9) -> (170, 9) projected
  circle A0 centre (146.0499, 4.5) radius 1.7
  circle A1 centre (138.7999, 4.5) radius 1.7
  circle A2 centre (5, 4.5) radius 1.7
  line L6 (0, 0) -> (0, 9) projected
  circle A3 centre (15, 4.5) radius 1.7
  circle A4 centre (25, 4.5) radius 1.7
  circle A5 centre (35, 4.5) radius 1.7
  circle A6 centre (45, 4.5) radius 1.7
  circle A7 centre (55, 4.5) radius 1.7
  circle A8 centre (65, 4.5) radius 1.7
  circle A9 centre (75, 4.5) radius 1.7
  circle A10 centre (85, 4.5) radius 1.7
  circle A11 centre (95, 4.5) radius 1.7
  circle A12 centre (105, 4.5) radius 1.7
  dimension "d130" = 21.7502
  dimension "d131" = 9
  dimension "d133" = 3.4
  dimension "d134" = 7.2501
  dimension "d135" = 4.5
  dimension "d138" = 7.2501
  dimension "d143" = 3.4
  dimension "d144" = 5
  dimension "d145" = 4.5
  dimension "d148" = 10
extrude "PulleySideHoles" cut sketch "Sketch18" against normal blind 13
sketch "Sketch19" plane through (0, 0, 0) normal (1, 0, 0) x (0, 0, -1)
  line L0 (12.1854, 9) -> (12.1854, 4) construction
  line L1 (62.4066, 9) -> (66.2674, 9) construction
  line L2 (99.1746, 9) -> (103.0354, 9) construction
  line L3 (125.997, 9) -> (134.887, 9) construction
  line L4 (147.1854, 9) -> (147.1854, 4) construction
  line L5 (158.3, 9) -> (161.7, 9) construction
  circle A0 centre (6.0927, 4.5) radius 1.7
  line L6 (170, 0) -> (0, 0) projected
  line L7 (0, 0) -> (0, 9) projected
  circle A1 centre (71.2674, 4.5) radius 1.7
  circle A2 centre (81.2674, 4.5) radius 1.7
  circle A3 centre (91.2674, 4.5) radius 1.7
  line L8 (170, 0) -> (170, 9) projected
  circle A4 centre (165.85, 4.5) radius 1.7
  circle A5 centre (141.0362, 4.5) radius 1.7
  dimension "d155" = 3.4
  dimension "d156" = 4.5
  dimension "d157" = 12.1854
  dimension "d158" = 6.0927
  dimension "d159" = 32.9072
  dimension "d160" = 3.4
  dimension "d161" = 4.5
  dimension "d162" = 5
  dimension "d165" = 10
  dimension "d170" = 8.3
  dimension "d171" = 3.4
  dimension "d172" = 4.5
  dimension "d173" = 4.15
  dimension "d174" = 12.2984
  dimension "d175" = 3.4
  dimension "d176" = 4.5
  dimension "d177" = 6.1492
extrude "NonPulleySideHoles" cut sketch "Sketch19" against normal blind 13
equation "\"d103\" = d98"
equation "\"d104\" = d101"
equation "\"d106\" = d101"
equation "\"d115\" = 0.5 * d101"
equation "\"d117\" = d101"
equation "\"d120\" = d115"
equation "\"d121\" = d101"
equation "\"d134\" = 0.333333 * d130"
equation "\"d135\" = 0.5 * d131"
equation "\"d138\" = d134"
equation "\"d145\" = d135"
equation "\"d156\" = d135"
equation "\"d158\" = 0.5 * d157"
equation "\"d161\" = d156"
equation "\"d172\" = d156"
equation "\"d173\" = 0.5 * d170"
equation "\"d176\" = d156"
equation "\"d177\" = 0.5 * d174"
properties part number "Top cuppler"
